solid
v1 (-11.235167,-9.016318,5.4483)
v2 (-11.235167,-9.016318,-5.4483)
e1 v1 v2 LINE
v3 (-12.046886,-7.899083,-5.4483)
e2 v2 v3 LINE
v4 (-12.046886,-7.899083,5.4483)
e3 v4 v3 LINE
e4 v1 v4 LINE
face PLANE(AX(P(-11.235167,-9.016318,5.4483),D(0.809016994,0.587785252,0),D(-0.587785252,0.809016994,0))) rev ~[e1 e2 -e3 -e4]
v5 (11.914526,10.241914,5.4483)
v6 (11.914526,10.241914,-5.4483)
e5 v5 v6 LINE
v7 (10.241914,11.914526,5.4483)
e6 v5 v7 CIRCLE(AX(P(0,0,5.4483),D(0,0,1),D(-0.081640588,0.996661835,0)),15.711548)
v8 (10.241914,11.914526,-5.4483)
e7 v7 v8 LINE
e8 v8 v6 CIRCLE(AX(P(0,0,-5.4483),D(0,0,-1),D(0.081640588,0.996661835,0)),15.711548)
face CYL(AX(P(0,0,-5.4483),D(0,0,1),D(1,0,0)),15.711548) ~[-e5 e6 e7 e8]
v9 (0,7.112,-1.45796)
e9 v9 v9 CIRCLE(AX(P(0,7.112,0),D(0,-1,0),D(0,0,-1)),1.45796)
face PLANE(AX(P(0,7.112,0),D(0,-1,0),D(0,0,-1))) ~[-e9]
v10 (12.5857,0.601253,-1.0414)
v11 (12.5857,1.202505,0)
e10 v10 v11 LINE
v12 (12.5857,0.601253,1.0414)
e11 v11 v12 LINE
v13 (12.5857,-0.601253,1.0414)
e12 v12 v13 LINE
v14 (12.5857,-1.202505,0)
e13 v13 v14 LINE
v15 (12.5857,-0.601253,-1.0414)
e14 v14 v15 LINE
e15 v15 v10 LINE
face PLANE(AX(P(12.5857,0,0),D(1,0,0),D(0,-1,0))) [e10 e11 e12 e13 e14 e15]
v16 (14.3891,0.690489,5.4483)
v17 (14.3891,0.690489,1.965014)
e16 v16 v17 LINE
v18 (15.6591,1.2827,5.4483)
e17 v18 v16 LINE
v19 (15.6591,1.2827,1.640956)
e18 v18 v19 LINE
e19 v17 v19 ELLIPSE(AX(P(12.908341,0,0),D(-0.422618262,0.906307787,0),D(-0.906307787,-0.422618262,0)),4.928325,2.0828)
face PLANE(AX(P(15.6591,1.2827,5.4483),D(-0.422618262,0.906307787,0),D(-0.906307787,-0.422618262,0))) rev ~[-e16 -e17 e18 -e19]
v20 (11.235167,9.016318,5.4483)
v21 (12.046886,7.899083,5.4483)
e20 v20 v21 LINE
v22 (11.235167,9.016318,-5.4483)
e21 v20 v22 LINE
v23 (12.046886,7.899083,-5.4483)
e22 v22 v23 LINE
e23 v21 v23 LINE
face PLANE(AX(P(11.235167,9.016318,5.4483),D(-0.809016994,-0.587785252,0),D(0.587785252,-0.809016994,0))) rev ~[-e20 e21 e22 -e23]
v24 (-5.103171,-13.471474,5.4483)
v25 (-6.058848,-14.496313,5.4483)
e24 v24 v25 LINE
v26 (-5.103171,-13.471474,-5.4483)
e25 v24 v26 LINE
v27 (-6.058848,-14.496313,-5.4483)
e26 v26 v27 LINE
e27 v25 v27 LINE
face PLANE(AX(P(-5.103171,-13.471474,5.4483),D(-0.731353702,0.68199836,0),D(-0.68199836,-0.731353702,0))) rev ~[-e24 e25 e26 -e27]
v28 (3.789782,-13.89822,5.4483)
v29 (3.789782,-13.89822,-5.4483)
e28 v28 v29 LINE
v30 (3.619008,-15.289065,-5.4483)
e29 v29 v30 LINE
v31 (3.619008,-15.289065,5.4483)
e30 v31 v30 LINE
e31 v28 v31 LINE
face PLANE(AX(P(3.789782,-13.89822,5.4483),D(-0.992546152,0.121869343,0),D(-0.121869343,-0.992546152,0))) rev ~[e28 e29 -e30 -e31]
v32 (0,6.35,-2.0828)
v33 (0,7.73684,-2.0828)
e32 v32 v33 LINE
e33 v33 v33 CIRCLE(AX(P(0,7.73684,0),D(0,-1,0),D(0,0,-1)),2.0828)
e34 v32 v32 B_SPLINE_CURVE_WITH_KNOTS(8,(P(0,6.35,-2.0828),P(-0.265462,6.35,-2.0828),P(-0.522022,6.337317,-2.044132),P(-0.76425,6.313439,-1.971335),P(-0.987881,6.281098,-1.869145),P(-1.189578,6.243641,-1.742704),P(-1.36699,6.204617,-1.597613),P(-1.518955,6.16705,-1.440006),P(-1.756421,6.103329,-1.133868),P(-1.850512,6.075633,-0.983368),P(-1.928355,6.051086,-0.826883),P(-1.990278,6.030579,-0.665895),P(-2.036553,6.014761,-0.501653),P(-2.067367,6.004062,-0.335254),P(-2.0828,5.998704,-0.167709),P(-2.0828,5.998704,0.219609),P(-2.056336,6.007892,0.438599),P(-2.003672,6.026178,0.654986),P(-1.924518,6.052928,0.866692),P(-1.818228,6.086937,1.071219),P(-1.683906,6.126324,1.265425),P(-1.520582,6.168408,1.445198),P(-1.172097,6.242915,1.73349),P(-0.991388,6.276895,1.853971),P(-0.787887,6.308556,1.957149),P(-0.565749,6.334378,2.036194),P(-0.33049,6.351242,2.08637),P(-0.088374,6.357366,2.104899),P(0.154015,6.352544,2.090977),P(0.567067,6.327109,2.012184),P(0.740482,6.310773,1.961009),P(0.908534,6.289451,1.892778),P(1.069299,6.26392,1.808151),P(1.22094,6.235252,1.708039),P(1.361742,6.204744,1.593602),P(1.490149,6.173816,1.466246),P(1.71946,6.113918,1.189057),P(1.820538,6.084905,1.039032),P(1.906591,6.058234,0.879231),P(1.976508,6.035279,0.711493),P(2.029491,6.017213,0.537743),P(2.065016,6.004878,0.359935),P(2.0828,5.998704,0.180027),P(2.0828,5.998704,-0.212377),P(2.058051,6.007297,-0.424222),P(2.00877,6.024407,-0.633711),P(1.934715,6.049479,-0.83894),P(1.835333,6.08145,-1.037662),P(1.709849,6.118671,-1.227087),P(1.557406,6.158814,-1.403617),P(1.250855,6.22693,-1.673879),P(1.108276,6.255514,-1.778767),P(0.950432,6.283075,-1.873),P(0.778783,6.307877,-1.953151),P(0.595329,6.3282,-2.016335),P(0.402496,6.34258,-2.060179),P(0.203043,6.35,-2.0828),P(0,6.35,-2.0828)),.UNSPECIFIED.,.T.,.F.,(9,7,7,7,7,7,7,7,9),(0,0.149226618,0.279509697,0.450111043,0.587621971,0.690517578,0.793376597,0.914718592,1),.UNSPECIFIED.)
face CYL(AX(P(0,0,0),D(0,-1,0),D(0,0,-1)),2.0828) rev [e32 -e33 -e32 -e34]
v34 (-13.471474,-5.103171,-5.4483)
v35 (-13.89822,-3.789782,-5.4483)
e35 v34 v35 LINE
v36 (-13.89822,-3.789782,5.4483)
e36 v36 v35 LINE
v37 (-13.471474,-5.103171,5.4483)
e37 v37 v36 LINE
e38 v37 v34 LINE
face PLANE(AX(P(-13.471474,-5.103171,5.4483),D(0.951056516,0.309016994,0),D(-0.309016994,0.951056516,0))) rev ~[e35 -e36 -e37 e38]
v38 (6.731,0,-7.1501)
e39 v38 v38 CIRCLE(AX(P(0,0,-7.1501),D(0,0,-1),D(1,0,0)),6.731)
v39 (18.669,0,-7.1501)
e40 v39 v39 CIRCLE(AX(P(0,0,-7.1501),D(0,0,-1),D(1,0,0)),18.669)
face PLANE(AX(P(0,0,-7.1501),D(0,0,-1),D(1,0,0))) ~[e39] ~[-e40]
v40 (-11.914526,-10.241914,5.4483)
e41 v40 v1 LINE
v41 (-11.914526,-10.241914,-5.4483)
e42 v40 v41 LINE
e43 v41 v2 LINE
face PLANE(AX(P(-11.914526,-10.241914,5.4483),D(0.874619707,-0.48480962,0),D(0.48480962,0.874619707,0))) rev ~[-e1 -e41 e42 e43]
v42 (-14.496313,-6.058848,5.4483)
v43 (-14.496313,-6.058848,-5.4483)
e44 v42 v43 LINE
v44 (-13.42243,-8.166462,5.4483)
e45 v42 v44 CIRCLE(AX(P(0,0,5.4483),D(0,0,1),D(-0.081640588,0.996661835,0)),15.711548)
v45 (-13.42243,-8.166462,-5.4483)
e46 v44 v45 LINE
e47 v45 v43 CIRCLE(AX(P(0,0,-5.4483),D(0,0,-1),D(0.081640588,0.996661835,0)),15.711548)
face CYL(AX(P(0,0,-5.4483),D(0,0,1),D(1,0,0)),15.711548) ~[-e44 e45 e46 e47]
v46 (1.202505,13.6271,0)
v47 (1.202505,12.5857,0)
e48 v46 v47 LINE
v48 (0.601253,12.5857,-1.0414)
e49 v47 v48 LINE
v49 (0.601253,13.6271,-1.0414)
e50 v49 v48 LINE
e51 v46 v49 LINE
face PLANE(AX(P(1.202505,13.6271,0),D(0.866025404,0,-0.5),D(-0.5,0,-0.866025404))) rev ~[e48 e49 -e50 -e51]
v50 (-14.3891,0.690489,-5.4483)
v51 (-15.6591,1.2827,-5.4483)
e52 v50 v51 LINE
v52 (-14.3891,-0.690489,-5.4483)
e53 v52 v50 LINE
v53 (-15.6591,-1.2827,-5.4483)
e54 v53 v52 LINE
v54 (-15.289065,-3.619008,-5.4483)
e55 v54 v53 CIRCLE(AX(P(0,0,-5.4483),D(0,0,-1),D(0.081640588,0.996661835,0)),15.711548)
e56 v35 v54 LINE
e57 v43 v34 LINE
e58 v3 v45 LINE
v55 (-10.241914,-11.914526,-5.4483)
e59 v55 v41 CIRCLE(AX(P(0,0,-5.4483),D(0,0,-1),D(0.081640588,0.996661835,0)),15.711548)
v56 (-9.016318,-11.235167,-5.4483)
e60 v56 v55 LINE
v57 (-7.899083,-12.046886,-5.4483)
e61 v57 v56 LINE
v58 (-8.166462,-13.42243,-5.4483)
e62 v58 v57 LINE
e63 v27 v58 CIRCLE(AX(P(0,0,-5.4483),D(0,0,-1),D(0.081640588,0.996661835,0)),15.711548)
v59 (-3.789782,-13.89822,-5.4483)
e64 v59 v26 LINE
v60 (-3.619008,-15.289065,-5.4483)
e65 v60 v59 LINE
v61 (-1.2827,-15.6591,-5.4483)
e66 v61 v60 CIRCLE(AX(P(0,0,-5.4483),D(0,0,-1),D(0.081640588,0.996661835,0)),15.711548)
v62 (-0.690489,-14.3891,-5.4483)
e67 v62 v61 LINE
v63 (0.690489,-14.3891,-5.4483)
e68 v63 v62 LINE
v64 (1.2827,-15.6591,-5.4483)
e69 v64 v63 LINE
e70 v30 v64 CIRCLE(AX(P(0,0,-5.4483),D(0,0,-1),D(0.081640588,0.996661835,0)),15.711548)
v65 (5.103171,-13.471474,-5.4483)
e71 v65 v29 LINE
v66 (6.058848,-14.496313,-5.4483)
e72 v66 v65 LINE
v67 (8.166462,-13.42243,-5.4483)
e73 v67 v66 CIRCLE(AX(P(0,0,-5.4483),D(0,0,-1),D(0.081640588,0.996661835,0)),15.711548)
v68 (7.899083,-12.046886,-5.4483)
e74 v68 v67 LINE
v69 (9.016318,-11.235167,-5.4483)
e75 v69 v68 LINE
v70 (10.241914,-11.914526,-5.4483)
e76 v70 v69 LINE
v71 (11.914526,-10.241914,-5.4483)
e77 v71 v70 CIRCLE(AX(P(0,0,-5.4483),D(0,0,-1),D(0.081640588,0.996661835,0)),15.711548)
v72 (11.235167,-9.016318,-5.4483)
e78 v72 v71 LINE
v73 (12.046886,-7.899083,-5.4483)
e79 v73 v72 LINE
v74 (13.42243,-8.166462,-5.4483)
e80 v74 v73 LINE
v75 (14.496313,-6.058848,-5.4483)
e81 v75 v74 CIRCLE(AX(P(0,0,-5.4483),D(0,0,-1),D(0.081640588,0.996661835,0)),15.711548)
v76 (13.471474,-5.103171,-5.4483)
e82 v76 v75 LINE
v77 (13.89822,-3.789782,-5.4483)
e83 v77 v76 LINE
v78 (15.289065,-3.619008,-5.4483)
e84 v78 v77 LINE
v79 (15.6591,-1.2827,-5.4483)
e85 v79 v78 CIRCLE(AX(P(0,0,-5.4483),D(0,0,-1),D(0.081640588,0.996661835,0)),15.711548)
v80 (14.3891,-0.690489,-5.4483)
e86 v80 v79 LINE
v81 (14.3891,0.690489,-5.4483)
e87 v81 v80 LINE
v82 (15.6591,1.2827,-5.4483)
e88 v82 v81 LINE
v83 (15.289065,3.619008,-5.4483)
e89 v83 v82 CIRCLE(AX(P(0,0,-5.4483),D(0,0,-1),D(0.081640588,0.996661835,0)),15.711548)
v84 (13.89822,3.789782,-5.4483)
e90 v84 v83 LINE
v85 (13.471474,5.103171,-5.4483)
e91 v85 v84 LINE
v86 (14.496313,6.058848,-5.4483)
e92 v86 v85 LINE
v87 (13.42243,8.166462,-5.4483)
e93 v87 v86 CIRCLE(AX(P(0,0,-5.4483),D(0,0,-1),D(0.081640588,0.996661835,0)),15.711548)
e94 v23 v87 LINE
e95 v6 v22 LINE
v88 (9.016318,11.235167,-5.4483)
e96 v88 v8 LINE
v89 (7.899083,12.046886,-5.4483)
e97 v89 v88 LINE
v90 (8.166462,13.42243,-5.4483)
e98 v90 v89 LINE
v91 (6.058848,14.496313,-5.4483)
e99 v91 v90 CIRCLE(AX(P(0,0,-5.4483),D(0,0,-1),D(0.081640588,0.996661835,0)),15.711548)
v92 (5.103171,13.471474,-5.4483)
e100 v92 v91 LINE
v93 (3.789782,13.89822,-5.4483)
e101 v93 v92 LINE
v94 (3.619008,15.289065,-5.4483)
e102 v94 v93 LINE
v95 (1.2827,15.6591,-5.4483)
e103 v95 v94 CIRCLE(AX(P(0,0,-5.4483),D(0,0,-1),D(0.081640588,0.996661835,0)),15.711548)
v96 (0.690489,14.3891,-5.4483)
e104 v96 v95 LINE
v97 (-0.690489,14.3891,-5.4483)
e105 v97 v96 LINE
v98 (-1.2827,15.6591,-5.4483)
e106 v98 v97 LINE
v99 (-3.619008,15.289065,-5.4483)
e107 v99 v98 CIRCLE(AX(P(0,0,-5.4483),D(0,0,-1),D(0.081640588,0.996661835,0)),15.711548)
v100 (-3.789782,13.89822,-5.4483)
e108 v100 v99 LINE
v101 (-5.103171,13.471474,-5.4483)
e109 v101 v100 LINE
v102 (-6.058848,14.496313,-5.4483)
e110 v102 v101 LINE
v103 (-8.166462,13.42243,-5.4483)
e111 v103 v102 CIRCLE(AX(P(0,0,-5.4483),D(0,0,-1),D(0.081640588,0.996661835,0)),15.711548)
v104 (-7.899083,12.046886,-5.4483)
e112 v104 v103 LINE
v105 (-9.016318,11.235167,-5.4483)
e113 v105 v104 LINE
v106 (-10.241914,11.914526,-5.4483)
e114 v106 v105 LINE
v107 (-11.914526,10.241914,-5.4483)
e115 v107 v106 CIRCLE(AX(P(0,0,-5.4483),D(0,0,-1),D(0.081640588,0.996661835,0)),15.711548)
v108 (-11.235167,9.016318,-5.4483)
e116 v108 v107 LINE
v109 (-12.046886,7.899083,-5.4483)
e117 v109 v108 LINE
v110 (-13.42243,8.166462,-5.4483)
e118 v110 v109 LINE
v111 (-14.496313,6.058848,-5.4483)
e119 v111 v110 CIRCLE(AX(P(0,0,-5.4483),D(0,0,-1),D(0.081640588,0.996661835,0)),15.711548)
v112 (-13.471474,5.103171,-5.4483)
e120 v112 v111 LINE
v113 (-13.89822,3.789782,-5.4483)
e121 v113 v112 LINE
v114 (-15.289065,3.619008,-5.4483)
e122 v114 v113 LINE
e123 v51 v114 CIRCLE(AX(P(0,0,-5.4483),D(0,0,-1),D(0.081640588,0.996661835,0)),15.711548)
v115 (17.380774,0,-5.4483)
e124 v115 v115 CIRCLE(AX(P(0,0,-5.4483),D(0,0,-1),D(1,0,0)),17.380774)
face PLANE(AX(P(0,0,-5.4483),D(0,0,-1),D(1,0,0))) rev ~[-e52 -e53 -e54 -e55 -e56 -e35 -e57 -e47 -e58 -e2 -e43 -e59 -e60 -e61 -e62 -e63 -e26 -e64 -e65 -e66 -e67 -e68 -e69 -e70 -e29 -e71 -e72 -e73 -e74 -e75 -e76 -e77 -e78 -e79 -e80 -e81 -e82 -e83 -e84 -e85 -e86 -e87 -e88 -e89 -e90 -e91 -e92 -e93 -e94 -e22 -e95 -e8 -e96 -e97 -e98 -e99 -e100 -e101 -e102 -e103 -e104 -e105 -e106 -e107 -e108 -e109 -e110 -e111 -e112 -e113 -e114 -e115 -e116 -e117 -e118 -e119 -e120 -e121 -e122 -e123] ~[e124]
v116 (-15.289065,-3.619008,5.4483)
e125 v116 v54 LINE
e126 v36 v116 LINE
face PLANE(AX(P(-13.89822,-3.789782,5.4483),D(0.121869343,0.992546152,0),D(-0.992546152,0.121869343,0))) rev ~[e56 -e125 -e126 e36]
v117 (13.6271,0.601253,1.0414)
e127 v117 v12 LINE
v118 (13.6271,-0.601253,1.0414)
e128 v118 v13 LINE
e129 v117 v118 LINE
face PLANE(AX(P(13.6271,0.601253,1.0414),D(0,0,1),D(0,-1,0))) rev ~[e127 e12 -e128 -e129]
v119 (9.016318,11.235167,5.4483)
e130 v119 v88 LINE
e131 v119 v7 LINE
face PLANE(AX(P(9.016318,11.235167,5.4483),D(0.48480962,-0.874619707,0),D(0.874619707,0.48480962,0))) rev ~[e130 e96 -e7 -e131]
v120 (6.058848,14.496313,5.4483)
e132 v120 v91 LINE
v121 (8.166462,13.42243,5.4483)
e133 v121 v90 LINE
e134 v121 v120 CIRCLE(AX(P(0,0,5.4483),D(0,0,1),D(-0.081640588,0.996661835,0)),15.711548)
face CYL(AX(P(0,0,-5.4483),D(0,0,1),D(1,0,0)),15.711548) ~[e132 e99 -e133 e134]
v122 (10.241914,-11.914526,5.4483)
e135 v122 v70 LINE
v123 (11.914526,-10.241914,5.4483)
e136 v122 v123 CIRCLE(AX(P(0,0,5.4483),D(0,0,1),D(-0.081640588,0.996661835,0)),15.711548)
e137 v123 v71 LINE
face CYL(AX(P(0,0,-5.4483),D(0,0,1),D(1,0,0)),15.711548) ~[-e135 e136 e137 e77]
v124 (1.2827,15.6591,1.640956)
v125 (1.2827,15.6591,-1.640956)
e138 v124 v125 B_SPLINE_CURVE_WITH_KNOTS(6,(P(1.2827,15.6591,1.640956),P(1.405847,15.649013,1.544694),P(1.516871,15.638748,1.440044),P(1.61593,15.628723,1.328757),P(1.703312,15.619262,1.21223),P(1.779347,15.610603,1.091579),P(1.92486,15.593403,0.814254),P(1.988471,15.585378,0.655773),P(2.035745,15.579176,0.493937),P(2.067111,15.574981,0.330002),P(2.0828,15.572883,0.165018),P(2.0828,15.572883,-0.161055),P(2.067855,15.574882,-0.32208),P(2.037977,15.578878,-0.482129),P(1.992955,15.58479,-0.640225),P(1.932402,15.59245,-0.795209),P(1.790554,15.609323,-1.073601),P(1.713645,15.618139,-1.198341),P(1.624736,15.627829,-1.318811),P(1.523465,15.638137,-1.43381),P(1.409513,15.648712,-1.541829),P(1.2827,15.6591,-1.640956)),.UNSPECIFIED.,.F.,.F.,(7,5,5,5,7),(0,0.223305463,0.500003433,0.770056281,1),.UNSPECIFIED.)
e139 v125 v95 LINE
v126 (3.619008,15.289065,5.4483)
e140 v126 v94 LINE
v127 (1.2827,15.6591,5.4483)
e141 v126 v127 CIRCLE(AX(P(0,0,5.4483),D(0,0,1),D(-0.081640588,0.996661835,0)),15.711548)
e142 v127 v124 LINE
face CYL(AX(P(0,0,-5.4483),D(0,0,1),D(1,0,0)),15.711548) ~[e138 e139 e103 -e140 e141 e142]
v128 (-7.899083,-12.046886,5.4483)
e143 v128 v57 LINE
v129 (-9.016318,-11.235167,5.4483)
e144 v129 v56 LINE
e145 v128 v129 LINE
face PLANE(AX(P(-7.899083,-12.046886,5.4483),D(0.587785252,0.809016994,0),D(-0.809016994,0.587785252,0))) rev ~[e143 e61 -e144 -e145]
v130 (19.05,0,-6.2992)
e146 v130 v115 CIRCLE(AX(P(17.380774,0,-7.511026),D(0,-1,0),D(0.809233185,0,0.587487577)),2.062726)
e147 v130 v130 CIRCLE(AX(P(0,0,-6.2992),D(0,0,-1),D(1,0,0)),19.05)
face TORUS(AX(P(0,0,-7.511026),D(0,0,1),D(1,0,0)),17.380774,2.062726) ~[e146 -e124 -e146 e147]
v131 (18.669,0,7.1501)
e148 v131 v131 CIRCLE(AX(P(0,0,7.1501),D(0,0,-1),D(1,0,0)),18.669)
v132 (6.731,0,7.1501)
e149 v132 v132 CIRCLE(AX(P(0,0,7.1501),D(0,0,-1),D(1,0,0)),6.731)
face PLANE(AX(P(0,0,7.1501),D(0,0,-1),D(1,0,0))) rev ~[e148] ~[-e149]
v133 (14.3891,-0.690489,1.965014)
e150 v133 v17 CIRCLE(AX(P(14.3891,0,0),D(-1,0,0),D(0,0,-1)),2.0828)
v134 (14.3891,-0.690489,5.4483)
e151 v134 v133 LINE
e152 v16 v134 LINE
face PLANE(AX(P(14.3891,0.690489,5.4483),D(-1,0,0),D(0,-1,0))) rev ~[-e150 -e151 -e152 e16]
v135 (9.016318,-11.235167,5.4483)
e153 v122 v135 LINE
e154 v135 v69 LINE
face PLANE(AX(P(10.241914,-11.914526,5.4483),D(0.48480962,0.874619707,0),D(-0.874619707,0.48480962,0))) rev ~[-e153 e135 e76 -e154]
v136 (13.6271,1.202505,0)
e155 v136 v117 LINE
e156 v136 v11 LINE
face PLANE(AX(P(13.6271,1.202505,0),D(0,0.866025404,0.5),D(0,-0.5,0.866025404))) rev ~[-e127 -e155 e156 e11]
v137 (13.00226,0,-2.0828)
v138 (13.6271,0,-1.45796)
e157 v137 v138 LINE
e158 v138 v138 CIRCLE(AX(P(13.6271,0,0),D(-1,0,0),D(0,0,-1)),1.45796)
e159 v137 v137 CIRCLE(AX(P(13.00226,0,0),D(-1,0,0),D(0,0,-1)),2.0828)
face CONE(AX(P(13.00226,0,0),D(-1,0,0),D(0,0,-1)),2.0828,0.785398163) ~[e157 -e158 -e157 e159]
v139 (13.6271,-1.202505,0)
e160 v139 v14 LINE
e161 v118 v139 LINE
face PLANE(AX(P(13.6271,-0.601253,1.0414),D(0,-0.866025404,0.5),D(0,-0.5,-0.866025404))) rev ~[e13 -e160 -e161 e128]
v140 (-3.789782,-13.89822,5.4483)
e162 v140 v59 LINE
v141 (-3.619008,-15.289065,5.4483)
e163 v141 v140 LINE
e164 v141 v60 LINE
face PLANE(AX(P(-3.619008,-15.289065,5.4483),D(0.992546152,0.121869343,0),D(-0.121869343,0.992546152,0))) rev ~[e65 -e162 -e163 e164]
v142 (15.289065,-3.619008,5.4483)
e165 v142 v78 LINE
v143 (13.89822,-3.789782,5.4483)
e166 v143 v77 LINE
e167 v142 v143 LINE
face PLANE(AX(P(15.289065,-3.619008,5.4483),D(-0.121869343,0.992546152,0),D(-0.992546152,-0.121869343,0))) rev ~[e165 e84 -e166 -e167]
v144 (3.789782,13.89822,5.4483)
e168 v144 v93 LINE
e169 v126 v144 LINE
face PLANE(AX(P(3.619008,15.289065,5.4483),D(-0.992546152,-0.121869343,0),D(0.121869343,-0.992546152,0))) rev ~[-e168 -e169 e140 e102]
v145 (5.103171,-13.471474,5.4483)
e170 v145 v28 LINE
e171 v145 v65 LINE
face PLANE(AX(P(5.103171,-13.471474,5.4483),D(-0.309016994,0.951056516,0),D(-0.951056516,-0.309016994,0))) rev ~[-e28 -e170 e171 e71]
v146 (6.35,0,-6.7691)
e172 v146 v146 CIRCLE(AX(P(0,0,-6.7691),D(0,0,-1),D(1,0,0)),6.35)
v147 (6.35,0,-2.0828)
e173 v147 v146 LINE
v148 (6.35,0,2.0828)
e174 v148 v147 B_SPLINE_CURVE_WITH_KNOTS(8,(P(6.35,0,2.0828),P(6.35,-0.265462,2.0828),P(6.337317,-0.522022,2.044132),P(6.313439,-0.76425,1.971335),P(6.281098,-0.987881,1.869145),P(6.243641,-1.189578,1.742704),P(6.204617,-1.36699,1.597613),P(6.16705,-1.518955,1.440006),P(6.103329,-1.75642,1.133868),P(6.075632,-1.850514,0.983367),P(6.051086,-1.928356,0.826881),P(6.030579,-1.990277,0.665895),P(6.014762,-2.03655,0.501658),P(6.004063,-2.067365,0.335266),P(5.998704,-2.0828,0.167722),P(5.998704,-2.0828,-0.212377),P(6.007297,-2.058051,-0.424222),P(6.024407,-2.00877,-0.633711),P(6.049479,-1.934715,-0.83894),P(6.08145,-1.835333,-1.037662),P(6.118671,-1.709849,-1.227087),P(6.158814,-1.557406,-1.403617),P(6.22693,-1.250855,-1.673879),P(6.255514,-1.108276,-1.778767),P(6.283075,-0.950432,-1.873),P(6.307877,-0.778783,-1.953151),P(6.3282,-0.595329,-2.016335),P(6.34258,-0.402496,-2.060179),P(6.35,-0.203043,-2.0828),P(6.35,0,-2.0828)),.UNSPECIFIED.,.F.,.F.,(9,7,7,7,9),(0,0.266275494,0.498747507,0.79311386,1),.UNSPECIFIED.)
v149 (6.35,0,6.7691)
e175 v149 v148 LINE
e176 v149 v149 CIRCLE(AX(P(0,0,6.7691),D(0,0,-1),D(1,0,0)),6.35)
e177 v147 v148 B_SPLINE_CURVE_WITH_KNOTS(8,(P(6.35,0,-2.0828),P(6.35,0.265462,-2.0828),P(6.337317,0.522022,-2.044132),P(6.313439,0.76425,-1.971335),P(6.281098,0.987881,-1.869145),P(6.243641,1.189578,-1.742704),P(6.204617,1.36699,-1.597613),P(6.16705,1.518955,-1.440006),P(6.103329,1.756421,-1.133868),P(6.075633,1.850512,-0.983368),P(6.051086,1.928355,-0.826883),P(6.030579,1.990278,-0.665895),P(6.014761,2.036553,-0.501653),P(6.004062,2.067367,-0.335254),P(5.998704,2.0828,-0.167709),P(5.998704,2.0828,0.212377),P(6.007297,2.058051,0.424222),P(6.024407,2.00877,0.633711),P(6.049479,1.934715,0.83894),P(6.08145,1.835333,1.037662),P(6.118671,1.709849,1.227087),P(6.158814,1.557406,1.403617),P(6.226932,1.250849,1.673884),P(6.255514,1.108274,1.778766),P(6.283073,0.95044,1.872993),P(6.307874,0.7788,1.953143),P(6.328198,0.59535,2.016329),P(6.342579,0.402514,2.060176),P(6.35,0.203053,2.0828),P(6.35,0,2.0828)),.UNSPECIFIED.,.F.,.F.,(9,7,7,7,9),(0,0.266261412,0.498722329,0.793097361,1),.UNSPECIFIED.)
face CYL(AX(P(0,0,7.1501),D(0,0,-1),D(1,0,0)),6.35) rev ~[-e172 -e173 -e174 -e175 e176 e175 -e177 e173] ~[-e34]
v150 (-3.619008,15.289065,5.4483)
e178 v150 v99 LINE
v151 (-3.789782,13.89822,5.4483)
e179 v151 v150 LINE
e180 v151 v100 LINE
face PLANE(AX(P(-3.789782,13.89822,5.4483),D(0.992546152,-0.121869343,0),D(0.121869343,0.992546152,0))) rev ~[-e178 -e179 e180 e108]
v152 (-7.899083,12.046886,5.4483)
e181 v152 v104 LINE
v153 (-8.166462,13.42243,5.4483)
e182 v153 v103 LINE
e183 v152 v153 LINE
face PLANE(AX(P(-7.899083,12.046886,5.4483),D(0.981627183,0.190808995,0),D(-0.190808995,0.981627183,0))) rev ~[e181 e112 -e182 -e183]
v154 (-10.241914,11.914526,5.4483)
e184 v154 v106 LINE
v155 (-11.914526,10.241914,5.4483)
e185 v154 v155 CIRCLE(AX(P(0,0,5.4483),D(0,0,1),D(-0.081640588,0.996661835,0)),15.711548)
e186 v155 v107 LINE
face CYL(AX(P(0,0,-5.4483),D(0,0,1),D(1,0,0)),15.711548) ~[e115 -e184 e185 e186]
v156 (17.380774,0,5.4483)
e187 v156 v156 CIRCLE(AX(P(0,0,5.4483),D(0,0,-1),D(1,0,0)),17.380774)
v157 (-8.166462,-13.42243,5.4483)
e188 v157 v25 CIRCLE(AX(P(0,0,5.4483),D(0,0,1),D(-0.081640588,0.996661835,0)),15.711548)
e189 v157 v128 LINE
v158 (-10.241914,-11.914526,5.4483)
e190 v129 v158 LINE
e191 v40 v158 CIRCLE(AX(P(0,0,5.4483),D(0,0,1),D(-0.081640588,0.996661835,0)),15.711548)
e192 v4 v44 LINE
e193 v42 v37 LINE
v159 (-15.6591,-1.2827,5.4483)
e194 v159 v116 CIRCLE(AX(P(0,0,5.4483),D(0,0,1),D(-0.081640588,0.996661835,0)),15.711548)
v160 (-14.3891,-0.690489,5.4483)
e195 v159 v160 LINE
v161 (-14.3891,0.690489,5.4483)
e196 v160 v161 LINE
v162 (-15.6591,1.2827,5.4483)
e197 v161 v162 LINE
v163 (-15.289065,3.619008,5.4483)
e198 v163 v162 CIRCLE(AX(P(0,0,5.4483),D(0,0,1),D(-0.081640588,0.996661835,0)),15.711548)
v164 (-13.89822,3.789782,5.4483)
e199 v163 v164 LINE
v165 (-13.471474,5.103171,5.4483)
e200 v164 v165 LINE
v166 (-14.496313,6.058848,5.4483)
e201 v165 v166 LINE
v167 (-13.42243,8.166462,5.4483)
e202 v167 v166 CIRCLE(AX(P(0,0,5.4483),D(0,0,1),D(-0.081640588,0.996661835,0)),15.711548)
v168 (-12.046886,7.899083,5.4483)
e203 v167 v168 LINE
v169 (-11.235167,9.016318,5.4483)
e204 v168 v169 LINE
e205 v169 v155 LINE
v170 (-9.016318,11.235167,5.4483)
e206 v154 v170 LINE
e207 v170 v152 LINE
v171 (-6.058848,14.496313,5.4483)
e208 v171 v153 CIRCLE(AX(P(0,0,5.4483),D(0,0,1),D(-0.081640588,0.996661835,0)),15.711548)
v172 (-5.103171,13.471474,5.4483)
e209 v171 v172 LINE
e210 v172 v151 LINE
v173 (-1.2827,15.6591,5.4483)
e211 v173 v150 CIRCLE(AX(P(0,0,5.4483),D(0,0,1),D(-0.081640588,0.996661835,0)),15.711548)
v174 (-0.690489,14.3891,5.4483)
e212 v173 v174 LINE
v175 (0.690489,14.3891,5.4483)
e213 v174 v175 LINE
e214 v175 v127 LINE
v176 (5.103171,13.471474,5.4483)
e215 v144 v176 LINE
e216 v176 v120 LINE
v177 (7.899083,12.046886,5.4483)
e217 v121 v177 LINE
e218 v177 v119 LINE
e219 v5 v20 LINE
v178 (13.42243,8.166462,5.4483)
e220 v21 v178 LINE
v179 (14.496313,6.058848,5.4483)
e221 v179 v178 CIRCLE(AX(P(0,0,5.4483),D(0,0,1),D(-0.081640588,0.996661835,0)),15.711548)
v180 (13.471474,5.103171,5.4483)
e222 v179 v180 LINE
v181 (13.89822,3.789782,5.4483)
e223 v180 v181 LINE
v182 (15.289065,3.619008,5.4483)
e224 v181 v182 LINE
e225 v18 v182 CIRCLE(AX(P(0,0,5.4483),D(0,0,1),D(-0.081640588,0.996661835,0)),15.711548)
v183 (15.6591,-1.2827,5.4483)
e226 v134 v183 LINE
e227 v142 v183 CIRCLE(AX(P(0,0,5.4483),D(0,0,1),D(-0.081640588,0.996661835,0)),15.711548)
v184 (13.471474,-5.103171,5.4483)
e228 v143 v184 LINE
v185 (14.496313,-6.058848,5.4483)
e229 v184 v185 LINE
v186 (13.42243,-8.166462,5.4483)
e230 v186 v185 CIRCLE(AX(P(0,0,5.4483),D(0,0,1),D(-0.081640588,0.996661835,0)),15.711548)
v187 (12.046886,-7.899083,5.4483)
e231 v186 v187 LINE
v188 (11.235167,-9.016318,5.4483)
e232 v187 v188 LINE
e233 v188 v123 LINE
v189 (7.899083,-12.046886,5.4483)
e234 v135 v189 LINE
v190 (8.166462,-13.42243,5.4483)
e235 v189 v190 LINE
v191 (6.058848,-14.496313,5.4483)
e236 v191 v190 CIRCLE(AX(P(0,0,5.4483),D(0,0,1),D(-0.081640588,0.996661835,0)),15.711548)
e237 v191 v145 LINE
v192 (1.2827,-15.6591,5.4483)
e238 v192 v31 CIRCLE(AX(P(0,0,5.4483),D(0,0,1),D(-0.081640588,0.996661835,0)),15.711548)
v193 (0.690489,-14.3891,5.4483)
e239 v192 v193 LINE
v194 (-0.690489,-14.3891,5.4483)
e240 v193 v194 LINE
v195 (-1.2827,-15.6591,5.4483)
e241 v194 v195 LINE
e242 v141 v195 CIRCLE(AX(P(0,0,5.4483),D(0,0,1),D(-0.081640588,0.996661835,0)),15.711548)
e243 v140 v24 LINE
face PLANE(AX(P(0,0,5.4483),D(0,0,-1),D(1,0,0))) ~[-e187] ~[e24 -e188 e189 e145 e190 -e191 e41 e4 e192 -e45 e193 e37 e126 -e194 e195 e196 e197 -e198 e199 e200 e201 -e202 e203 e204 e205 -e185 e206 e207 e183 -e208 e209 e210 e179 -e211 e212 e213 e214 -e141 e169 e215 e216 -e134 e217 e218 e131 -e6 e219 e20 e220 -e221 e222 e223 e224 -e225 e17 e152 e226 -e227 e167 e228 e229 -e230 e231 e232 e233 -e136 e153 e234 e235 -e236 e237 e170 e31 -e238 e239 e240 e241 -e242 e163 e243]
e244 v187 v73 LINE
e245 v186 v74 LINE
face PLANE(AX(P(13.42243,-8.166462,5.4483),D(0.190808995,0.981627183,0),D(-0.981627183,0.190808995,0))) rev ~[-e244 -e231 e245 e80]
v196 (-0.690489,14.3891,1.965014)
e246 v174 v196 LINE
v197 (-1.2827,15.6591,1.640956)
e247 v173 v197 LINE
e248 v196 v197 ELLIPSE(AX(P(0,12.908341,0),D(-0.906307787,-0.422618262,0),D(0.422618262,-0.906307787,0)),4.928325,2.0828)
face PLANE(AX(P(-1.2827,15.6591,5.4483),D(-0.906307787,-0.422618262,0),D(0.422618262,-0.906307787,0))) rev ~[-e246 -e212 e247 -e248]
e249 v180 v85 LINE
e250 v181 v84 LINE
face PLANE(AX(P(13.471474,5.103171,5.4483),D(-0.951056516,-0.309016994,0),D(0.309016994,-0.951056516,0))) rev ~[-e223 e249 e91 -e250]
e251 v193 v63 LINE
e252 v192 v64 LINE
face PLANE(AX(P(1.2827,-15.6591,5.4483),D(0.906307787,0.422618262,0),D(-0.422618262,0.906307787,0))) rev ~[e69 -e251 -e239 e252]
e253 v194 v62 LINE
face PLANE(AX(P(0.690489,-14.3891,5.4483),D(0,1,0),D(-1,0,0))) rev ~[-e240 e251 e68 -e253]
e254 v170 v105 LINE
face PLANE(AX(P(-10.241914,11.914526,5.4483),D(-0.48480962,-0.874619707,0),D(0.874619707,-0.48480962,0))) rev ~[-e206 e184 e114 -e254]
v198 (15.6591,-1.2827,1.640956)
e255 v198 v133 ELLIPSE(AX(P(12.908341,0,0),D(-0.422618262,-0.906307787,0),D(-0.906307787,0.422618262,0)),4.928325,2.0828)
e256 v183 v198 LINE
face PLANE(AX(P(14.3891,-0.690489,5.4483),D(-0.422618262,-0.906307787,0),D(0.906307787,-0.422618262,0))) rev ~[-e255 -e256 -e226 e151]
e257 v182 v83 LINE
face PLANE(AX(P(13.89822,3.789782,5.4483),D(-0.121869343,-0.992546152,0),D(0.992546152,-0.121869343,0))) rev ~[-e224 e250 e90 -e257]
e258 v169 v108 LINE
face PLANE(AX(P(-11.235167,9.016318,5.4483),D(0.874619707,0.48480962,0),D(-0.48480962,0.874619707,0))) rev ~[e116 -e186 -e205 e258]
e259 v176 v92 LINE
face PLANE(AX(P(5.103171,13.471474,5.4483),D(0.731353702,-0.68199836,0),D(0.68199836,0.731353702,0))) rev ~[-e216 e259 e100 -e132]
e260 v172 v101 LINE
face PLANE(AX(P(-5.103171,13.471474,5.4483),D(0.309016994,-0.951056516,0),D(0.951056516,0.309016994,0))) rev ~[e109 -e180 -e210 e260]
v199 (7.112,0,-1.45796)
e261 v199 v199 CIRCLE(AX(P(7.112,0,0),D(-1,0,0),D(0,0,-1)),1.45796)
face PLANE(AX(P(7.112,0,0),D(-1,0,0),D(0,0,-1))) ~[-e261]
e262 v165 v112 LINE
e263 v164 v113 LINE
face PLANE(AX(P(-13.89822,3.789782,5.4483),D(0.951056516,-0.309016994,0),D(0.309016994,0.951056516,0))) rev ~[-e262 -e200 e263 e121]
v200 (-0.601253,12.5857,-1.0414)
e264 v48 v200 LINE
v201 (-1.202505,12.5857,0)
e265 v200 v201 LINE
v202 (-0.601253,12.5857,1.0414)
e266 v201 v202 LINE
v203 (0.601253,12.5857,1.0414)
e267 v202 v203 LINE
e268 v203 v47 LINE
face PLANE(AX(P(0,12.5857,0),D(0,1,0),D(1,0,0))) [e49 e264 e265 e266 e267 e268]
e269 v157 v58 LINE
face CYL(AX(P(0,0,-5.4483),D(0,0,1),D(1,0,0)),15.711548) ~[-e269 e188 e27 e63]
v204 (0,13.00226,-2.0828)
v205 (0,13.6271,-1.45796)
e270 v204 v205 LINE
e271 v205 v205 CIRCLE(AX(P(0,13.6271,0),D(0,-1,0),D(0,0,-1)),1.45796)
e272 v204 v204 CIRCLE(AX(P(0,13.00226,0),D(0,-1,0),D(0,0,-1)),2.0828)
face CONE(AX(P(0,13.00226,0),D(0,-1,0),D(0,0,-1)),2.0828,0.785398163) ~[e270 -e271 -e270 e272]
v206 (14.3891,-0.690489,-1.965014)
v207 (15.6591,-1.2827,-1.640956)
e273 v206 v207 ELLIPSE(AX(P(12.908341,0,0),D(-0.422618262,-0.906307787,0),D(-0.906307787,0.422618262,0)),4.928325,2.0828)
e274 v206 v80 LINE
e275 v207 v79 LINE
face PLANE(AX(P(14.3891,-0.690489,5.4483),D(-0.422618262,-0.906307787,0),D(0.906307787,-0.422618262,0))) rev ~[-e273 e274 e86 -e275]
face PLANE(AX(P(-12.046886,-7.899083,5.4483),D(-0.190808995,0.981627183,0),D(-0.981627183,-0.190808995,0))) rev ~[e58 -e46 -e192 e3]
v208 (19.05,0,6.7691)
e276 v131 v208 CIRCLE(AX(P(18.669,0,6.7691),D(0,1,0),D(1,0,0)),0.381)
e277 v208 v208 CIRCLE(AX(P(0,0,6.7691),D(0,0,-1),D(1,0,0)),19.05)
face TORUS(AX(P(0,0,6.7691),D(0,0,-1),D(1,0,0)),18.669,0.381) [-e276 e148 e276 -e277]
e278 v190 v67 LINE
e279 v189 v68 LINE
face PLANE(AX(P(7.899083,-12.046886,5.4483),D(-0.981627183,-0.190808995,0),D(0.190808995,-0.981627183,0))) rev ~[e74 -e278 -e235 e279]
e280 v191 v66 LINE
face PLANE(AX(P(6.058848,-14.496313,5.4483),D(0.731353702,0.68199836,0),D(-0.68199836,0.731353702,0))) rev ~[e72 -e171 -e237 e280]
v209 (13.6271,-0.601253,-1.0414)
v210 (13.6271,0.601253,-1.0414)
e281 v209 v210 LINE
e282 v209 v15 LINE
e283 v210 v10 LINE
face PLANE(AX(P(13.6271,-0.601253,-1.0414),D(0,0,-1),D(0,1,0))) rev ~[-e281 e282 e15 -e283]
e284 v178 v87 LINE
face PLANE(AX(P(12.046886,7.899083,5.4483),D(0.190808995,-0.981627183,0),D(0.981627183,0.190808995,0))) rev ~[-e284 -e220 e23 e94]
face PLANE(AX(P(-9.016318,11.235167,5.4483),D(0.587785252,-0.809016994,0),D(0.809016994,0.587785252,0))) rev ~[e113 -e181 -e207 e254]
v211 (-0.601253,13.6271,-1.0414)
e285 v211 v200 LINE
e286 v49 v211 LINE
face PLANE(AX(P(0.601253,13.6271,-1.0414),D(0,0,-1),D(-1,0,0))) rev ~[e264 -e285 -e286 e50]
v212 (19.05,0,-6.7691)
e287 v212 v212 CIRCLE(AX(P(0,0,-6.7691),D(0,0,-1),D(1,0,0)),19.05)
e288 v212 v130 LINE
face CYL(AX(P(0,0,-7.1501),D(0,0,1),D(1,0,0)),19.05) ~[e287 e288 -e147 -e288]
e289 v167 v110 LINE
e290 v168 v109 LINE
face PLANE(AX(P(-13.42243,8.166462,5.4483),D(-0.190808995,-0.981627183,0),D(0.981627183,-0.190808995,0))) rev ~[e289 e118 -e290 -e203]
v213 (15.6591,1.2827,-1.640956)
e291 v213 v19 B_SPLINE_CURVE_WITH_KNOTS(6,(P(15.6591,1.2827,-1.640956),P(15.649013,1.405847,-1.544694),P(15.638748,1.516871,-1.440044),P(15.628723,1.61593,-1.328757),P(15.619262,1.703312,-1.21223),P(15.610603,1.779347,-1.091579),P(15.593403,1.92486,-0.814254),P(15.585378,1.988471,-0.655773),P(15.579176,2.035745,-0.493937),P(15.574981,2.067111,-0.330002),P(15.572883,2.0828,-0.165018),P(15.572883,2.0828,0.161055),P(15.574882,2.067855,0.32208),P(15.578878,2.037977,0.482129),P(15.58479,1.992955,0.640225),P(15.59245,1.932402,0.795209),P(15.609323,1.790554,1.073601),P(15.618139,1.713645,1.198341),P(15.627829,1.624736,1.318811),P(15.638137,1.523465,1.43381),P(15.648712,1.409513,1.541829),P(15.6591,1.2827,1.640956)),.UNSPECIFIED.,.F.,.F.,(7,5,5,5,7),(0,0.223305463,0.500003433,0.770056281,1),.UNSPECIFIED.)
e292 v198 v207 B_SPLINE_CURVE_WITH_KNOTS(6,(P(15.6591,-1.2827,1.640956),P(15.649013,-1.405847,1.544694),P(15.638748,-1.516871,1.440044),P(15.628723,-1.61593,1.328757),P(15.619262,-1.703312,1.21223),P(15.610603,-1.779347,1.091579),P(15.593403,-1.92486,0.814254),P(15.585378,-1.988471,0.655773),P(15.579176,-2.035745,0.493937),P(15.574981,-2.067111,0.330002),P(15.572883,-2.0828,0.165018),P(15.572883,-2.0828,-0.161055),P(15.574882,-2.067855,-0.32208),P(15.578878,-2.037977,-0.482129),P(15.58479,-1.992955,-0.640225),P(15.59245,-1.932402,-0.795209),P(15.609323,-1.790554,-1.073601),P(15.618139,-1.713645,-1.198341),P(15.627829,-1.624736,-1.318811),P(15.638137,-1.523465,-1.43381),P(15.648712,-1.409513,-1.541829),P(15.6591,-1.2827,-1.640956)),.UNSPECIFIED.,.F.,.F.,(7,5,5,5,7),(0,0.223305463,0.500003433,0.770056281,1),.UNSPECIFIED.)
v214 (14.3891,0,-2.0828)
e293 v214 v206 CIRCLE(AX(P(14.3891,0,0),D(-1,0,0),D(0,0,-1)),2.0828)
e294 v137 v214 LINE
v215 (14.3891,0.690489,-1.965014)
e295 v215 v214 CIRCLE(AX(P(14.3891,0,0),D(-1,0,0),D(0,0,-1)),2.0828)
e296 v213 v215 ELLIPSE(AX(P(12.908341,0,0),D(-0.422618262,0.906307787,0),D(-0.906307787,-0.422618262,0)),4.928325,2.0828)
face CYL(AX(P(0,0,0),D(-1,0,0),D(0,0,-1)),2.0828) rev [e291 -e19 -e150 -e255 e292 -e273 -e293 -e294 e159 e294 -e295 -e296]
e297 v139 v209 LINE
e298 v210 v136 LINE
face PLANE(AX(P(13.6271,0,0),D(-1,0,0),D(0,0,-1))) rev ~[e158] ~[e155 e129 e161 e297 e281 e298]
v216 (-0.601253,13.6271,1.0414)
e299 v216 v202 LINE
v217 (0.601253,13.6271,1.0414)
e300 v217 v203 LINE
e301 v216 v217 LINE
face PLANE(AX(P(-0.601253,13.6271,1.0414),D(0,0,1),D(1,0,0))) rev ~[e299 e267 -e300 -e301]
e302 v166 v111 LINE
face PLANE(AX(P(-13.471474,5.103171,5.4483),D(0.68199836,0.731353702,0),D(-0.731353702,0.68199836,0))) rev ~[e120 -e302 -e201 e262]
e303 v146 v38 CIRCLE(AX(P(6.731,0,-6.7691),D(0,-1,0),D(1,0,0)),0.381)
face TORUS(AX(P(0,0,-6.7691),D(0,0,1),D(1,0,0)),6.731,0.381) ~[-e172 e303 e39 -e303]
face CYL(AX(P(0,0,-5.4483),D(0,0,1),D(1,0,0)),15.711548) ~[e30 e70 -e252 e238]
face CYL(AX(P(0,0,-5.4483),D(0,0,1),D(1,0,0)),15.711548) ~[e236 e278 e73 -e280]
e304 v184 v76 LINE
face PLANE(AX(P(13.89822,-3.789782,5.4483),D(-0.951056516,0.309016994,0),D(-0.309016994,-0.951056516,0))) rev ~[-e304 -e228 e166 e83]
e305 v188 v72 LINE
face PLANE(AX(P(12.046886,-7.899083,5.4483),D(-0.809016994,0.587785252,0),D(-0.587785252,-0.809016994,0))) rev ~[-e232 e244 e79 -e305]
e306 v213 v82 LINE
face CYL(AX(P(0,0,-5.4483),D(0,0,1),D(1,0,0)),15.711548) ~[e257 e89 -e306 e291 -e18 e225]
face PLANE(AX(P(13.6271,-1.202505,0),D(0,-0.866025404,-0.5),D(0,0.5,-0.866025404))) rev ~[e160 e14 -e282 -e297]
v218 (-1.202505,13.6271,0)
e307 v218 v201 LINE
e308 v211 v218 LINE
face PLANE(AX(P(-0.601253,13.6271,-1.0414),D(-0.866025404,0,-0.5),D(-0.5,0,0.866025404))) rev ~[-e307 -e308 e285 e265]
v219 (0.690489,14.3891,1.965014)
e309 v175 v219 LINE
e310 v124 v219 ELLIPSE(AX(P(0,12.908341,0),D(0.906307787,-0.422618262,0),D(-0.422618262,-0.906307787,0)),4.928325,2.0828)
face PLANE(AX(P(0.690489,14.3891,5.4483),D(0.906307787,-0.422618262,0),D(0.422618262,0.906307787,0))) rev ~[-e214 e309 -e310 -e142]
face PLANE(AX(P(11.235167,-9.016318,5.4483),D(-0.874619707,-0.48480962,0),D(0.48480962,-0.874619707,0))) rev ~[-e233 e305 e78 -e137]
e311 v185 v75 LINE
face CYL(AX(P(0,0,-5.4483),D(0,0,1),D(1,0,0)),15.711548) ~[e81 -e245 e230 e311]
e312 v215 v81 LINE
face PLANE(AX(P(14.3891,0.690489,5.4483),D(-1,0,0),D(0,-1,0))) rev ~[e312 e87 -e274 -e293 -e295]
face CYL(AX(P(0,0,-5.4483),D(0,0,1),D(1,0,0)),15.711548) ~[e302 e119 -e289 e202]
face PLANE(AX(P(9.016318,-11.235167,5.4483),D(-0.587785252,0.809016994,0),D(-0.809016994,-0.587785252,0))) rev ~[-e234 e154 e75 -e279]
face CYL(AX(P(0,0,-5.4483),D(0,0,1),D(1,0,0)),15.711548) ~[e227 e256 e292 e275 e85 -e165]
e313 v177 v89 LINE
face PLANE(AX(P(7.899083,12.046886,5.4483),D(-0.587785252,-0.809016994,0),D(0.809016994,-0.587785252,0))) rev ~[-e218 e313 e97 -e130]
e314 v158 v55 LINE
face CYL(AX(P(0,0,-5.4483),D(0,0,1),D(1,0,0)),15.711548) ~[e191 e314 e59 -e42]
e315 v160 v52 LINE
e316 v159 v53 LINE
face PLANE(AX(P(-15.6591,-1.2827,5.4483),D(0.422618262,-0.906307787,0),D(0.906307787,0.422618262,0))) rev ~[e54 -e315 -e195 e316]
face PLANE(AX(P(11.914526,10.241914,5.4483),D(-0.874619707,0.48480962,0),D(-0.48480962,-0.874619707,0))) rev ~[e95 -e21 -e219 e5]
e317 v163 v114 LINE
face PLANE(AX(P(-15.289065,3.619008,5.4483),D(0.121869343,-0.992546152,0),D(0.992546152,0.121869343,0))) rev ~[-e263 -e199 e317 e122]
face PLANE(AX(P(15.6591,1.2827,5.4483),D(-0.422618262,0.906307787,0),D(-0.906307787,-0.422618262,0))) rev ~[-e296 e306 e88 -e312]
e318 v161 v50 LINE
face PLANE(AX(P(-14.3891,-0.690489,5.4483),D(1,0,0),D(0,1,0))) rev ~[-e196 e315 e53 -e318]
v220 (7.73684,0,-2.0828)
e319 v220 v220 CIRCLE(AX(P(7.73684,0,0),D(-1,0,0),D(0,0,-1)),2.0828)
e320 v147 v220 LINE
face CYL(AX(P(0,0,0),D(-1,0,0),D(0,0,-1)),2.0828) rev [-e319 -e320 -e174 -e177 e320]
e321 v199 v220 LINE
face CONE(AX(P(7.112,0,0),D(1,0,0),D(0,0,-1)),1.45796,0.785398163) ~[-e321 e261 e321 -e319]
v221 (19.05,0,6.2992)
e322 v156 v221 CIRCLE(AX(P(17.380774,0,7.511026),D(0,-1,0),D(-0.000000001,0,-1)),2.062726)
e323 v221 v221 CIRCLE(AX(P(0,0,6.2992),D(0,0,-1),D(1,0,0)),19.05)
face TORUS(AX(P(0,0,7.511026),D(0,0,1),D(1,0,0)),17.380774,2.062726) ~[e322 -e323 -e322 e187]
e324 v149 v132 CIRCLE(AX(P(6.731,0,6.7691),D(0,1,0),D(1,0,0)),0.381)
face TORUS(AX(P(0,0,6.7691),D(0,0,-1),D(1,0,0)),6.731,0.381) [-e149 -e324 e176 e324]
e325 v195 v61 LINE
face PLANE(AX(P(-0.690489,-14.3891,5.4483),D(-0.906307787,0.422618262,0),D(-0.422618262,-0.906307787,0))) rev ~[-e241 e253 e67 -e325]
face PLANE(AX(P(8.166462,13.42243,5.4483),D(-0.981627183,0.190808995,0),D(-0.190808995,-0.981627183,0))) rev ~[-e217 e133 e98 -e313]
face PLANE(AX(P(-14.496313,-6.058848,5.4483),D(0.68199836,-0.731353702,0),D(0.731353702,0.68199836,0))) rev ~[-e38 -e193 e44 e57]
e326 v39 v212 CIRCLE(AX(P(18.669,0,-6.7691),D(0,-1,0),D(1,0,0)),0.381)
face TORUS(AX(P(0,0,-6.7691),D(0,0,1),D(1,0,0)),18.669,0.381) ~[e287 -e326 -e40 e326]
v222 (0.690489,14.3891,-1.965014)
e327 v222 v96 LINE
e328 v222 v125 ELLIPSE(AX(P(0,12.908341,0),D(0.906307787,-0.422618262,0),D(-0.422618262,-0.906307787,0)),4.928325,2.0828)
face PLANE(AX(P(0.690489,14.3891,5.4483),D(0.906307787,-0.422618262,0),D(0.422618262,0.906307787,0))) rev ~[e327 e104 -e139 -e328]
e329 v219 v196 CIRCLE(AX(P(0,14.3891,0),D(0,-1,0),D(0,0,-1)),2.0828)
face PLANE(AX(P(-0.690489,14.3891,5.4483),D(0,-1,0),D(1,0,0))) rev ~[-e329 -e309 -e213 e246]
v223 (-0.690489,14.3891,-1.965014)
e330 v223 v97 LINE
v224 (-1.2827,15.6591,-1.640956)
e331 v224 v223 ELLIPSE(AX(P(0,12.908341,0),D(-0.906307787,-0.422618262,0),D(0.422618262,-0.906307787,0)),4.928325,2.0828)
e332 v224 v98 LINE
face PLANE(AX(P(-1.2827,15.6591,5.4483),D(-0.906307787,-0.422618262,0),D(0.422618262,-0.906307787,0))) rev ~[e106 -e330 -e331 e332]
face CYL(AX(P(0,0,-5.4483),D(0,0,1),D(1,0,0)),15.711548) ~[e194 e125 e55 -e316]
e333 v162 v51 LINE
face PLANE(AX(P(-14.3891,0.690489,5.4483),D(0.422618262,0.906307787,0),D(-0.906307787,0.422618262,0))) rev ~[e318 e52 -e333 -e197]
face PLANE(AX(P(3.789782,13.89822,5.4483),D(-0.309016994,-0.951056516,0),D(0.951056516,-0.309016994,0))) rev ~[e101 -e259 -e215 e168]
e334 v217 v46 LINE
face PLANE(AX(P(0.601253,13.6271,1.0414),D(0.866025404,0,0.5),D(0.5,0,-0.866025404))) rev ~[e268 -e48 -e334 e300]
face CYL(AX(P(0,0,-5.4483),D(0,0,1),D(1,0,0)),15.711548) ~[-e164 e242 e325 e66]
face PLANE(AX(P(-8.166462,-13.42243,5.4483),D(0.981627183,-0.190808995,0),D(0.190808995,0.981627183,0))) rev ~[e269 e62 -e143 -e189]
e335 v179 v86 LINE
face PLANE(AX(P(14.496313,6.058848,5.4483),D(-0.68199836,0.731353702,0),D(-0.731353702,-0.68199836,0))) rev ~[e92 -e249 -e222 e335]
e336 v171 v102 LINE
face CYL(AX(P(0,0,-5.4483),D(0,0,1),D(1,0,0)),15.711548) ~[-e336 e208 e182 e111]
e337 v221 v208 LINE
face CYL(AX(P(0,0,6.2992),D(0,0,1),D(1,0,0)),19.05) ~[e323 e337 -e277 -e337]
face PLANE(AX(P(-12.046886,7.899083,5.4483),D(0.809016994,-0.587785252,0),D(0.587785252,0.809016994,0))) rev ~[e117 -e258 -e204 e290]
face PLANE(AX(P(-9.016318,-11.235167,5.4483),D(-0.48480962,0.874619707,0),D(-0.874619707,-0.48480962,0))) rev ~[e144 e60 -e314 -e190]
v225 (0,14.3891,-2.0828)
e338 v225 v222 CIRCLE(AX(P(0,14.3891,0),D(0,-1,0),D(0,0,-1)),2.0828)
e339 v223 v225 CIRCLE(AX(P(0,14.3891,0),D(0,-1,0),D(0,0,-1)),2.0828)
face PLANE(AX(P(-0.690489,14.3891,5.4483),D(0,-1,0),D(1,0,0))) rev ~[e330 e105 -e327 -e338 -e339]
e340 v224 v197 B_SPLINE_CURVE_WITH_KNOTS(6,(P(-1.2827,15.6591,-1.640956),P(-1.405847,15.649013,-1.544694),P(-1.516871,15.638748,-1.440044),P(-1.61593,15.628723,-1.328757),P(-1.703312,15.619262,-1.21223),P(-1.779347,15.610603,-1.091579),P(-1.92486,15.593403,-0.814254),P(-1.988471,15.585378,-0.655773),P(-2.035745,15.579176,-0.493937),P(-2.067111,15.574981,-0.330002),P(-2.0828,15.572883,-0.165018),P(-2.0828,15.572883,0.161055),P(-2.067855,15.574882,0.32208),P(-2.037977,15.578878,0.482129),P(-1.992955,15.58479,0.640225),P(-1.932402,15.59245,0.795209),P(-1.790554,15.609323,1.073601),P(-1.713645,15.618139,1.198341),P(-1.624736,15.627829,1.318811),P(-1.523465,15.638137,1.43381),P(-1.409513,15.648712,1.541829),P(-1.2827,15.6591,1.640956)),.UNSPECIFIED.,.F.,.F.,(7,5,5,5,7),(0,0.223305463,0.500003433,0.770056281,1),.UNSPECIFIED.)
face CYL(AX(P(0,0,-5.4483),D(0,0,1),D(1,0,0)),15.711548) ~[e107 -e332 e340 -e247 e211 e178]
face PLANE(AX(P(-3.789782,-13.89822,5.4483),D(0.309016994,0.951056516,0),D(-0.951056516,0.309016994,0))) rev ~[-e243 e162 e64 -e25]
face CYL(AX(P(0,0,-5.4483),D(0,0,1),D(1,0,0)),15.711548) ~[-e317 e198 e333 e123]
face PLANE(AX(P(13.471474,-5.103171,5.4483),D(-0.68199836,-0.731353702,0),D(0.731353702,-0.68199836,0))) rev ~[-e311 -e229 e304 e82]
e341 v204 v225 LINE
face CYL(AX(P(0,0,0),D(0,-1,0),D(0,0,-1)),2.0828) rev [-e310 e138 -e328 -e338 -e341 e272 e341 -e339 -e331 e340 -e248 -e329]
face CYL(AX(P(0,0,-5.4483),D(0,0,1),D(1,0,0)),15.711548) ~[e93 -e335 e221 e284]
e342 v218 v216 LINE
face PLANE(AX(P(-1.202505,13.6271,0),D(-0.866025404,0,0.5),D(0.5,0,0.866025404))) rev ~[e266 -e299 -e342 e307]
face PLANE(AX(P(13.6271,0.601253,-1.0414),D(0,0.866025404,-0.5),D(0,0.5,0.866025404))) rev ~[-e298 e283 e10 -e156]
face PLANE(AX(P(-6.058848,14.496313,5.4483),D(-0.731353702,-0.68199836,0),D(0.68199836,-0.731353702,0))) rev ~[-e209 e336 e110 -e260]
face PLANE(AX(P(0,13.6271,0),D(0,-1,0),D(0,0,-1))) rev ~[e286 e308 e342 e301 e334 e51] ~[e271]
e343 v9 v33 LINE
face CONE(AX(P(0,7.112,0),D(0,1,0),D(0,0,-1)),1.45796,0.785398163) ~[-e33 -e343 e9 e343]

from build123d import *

# Parameters (mm, degrees)
CUT_EXTRUDE1_START = 5.4483
CUT_EXTRUDE1_DEPTH = 10.8966
CIRPATTERN1_COUNT  = 20
FILLET1_R          = 0.381
SKETCH5_R          = 2.0828
CUT_EXTRUDE2_DEPTH = 28.873444958
CUT_EXTRUDE3_DEPTH = 1.0414
CIRPATTERN2_COUNT  = 2
CIRPATTERN2_ANGLE  = 270


with BuildPart() as part:
    # Sketch2 → Revolve1 (revolve)
    with BuildSketch(Plane(origin=(0, 0, 0), x_dir=(0, 0, -1), z_dir=(1, 0, 0)), mode=Mode.PRIVATE) as revolve1_sk:
        with BuildLine():
            Line((-7.1501, 6.35), (7.1501, 6.35))
            Line((7.1501, 6.35), (7.1501, 19.05))
            Line((7.1501, 19.05), (6.2992, 19.05))
            ThreePointArc((6.2992, 19.05), (5.673295941, 18.317569828), (5.4483, 17.380773865))
            Line((5.4483, 17.380773865), (5.4483, 15.711547731))
            Line((5.4483, 15.711547731), (-5.4483, 15.711547731))
            Line((-5.4483, 15.711547731), (-5.4483, 17.380773865))
            ThreePointArc((-5.4483, 17.380773865), (-5.673295941, 18.317569828), (-6.2992, 19.05))
            Line((-6.2992, 19.05), (-7.1501, 19.05))
            Line((-7.1501, 19.05), (-7.1501, 6.35))
        make_face()
    revolve(revolve1_sk.sketch.rotate(Axis((0, 0, 7.1501), (0, 0, -1)), 90), axis=Axis((0, 0, 7.1501), (0, 0, -1)))

    # Sketch3 → Cut-Extrude1 (cut)
    with BuildSketch(Plane.XY.offset(CUT_EXTRUDE1_START)):
        with BuildLine():
            Line((-0.690489274, 14.3891), (0.690489274, 14.3891))
            Line((0.690489274, 14.3891), (1.2827, 15.6591))
            ThreePointArc((1.2827, 15.6591), (0, 15.711547731), (-1.2827, 15.6591))
            Line((-1.2827, 15.6591), (-0.690489274, 14.3891))
        make_face()
    cut_extrude1 = extrude(amount=-CUT_EXTRUDE1_DEPTH, mode=Mode.SUBTRACT)

    # CirPattern1: Cut-Extrude1 ×20 about axis
    cirpattern1_axis = Axis((0, 0, 0), (0, 0, 1))
    for i in range(1, CIRPATTERN1_COUNT):
        add(cut_extrude1.rotate(cirpattern1_axis, i * 360 / CIRPATTERN1_COUNT), mode=Mode.SUBTRACT)

    # Fillet1
    fillet1_edges = [part.edges().sort_by_distance(p)[0] for p in [
        (-19.05, 0, -7.1501),
        (-6.35, 0, -7.1501),
        (-6.35, 0, 7.1501),
        (-19.05, 0, 7.1501),
    ]]
    fillet(fillet1_edges, radius=FILLET1_R)

    # Sketch5 → Cut-Extrude2 (cut, through all)
    with BuildSketch(Plane(origin=(0, 0, 0), x_dir=(1, 0, 0), z_dir=(0, 1, 0))):
        with Locations(Location((0, 0, 0), (0, 0, 90))):
            Circle(SKETCH5_R)
    cut_extrude2 = extrude(amount=CUT_EXTRUDE2_DEPTH, mode=Mode.SUBTRACT)

    # Sketch6 → Revolve2 (revolve)
    with BuildSketch(Plane(origin=(0, 0, 0), x_dir=(0, 0, -1), z_dir=(1, 0, 0)), mode=Mode.PRIVATE) as revolve2_sk:
        Polygon((0, 13.6271), (0, 7.112), (-1.45796, 7.112), (-2.0828, 7.73684), (-2.0828, 13.00226), (-1.45796, 13.6271), align=None)
    revolve2 = revolve(revolve2_sk.sketch.rotate(Axis((0, 13.6271, 0), (0, -1, 0)), 180), axis=Axis((0, 13.6271, 0), (0, -1, 0)))

    # Sketch7 → Cut-Extrude3 (cut)
    with BuildSketch(Plane(origin=(0, 13.6271, 0), x_dir=(1, 0, 0), z_dir=(0, 1, 0))):
        Polygon((1.202505141, 0), (0.60125257, 1.0414), (-0.60125257, 1.0414), (-1.202505141, 0), (-0.60125257, -1.0414), (0.60125257, -1.0414), align=None)
    cut_extrude3 = extrude(amount=-CUT_EXTRUDE3_DEPTH, mode=Mode.SUBTRACT)

    # CirPattern2: Cut-Extrude2, Revolve2, Cut-Extrude3 ×2 about axis
    cirpattern2_axis = Axis((0, 0, 0), (0, 0, 1))
    add([cut_extrude2.rotate(cirpattern2_axis, i * CIRPATTERN2_ANGLE / (CIRPATTERN2_COUNT - 1)) for i in range(1, CIRPATTERN2_COUNT)], mode=Mode.SUBTRACT)
    add([revolve2.rotate(cirpattern2_axis, i * CIRPATTERN2_ANGLE / (CIRPATTERN2_COUNT - 1)) for i in range(1, CIRPATTERN2_COUNT)])
    add([cut_extrude3.rotate(cirpattern2_axis, i * CIRPATTERN2_ANGLE / (CIRPATTERN2_COUNT - 1)) for i in range(1, CIRPATTERN2_COUNT)], mode=Mode.SUBTRACT)


solid = part.part
